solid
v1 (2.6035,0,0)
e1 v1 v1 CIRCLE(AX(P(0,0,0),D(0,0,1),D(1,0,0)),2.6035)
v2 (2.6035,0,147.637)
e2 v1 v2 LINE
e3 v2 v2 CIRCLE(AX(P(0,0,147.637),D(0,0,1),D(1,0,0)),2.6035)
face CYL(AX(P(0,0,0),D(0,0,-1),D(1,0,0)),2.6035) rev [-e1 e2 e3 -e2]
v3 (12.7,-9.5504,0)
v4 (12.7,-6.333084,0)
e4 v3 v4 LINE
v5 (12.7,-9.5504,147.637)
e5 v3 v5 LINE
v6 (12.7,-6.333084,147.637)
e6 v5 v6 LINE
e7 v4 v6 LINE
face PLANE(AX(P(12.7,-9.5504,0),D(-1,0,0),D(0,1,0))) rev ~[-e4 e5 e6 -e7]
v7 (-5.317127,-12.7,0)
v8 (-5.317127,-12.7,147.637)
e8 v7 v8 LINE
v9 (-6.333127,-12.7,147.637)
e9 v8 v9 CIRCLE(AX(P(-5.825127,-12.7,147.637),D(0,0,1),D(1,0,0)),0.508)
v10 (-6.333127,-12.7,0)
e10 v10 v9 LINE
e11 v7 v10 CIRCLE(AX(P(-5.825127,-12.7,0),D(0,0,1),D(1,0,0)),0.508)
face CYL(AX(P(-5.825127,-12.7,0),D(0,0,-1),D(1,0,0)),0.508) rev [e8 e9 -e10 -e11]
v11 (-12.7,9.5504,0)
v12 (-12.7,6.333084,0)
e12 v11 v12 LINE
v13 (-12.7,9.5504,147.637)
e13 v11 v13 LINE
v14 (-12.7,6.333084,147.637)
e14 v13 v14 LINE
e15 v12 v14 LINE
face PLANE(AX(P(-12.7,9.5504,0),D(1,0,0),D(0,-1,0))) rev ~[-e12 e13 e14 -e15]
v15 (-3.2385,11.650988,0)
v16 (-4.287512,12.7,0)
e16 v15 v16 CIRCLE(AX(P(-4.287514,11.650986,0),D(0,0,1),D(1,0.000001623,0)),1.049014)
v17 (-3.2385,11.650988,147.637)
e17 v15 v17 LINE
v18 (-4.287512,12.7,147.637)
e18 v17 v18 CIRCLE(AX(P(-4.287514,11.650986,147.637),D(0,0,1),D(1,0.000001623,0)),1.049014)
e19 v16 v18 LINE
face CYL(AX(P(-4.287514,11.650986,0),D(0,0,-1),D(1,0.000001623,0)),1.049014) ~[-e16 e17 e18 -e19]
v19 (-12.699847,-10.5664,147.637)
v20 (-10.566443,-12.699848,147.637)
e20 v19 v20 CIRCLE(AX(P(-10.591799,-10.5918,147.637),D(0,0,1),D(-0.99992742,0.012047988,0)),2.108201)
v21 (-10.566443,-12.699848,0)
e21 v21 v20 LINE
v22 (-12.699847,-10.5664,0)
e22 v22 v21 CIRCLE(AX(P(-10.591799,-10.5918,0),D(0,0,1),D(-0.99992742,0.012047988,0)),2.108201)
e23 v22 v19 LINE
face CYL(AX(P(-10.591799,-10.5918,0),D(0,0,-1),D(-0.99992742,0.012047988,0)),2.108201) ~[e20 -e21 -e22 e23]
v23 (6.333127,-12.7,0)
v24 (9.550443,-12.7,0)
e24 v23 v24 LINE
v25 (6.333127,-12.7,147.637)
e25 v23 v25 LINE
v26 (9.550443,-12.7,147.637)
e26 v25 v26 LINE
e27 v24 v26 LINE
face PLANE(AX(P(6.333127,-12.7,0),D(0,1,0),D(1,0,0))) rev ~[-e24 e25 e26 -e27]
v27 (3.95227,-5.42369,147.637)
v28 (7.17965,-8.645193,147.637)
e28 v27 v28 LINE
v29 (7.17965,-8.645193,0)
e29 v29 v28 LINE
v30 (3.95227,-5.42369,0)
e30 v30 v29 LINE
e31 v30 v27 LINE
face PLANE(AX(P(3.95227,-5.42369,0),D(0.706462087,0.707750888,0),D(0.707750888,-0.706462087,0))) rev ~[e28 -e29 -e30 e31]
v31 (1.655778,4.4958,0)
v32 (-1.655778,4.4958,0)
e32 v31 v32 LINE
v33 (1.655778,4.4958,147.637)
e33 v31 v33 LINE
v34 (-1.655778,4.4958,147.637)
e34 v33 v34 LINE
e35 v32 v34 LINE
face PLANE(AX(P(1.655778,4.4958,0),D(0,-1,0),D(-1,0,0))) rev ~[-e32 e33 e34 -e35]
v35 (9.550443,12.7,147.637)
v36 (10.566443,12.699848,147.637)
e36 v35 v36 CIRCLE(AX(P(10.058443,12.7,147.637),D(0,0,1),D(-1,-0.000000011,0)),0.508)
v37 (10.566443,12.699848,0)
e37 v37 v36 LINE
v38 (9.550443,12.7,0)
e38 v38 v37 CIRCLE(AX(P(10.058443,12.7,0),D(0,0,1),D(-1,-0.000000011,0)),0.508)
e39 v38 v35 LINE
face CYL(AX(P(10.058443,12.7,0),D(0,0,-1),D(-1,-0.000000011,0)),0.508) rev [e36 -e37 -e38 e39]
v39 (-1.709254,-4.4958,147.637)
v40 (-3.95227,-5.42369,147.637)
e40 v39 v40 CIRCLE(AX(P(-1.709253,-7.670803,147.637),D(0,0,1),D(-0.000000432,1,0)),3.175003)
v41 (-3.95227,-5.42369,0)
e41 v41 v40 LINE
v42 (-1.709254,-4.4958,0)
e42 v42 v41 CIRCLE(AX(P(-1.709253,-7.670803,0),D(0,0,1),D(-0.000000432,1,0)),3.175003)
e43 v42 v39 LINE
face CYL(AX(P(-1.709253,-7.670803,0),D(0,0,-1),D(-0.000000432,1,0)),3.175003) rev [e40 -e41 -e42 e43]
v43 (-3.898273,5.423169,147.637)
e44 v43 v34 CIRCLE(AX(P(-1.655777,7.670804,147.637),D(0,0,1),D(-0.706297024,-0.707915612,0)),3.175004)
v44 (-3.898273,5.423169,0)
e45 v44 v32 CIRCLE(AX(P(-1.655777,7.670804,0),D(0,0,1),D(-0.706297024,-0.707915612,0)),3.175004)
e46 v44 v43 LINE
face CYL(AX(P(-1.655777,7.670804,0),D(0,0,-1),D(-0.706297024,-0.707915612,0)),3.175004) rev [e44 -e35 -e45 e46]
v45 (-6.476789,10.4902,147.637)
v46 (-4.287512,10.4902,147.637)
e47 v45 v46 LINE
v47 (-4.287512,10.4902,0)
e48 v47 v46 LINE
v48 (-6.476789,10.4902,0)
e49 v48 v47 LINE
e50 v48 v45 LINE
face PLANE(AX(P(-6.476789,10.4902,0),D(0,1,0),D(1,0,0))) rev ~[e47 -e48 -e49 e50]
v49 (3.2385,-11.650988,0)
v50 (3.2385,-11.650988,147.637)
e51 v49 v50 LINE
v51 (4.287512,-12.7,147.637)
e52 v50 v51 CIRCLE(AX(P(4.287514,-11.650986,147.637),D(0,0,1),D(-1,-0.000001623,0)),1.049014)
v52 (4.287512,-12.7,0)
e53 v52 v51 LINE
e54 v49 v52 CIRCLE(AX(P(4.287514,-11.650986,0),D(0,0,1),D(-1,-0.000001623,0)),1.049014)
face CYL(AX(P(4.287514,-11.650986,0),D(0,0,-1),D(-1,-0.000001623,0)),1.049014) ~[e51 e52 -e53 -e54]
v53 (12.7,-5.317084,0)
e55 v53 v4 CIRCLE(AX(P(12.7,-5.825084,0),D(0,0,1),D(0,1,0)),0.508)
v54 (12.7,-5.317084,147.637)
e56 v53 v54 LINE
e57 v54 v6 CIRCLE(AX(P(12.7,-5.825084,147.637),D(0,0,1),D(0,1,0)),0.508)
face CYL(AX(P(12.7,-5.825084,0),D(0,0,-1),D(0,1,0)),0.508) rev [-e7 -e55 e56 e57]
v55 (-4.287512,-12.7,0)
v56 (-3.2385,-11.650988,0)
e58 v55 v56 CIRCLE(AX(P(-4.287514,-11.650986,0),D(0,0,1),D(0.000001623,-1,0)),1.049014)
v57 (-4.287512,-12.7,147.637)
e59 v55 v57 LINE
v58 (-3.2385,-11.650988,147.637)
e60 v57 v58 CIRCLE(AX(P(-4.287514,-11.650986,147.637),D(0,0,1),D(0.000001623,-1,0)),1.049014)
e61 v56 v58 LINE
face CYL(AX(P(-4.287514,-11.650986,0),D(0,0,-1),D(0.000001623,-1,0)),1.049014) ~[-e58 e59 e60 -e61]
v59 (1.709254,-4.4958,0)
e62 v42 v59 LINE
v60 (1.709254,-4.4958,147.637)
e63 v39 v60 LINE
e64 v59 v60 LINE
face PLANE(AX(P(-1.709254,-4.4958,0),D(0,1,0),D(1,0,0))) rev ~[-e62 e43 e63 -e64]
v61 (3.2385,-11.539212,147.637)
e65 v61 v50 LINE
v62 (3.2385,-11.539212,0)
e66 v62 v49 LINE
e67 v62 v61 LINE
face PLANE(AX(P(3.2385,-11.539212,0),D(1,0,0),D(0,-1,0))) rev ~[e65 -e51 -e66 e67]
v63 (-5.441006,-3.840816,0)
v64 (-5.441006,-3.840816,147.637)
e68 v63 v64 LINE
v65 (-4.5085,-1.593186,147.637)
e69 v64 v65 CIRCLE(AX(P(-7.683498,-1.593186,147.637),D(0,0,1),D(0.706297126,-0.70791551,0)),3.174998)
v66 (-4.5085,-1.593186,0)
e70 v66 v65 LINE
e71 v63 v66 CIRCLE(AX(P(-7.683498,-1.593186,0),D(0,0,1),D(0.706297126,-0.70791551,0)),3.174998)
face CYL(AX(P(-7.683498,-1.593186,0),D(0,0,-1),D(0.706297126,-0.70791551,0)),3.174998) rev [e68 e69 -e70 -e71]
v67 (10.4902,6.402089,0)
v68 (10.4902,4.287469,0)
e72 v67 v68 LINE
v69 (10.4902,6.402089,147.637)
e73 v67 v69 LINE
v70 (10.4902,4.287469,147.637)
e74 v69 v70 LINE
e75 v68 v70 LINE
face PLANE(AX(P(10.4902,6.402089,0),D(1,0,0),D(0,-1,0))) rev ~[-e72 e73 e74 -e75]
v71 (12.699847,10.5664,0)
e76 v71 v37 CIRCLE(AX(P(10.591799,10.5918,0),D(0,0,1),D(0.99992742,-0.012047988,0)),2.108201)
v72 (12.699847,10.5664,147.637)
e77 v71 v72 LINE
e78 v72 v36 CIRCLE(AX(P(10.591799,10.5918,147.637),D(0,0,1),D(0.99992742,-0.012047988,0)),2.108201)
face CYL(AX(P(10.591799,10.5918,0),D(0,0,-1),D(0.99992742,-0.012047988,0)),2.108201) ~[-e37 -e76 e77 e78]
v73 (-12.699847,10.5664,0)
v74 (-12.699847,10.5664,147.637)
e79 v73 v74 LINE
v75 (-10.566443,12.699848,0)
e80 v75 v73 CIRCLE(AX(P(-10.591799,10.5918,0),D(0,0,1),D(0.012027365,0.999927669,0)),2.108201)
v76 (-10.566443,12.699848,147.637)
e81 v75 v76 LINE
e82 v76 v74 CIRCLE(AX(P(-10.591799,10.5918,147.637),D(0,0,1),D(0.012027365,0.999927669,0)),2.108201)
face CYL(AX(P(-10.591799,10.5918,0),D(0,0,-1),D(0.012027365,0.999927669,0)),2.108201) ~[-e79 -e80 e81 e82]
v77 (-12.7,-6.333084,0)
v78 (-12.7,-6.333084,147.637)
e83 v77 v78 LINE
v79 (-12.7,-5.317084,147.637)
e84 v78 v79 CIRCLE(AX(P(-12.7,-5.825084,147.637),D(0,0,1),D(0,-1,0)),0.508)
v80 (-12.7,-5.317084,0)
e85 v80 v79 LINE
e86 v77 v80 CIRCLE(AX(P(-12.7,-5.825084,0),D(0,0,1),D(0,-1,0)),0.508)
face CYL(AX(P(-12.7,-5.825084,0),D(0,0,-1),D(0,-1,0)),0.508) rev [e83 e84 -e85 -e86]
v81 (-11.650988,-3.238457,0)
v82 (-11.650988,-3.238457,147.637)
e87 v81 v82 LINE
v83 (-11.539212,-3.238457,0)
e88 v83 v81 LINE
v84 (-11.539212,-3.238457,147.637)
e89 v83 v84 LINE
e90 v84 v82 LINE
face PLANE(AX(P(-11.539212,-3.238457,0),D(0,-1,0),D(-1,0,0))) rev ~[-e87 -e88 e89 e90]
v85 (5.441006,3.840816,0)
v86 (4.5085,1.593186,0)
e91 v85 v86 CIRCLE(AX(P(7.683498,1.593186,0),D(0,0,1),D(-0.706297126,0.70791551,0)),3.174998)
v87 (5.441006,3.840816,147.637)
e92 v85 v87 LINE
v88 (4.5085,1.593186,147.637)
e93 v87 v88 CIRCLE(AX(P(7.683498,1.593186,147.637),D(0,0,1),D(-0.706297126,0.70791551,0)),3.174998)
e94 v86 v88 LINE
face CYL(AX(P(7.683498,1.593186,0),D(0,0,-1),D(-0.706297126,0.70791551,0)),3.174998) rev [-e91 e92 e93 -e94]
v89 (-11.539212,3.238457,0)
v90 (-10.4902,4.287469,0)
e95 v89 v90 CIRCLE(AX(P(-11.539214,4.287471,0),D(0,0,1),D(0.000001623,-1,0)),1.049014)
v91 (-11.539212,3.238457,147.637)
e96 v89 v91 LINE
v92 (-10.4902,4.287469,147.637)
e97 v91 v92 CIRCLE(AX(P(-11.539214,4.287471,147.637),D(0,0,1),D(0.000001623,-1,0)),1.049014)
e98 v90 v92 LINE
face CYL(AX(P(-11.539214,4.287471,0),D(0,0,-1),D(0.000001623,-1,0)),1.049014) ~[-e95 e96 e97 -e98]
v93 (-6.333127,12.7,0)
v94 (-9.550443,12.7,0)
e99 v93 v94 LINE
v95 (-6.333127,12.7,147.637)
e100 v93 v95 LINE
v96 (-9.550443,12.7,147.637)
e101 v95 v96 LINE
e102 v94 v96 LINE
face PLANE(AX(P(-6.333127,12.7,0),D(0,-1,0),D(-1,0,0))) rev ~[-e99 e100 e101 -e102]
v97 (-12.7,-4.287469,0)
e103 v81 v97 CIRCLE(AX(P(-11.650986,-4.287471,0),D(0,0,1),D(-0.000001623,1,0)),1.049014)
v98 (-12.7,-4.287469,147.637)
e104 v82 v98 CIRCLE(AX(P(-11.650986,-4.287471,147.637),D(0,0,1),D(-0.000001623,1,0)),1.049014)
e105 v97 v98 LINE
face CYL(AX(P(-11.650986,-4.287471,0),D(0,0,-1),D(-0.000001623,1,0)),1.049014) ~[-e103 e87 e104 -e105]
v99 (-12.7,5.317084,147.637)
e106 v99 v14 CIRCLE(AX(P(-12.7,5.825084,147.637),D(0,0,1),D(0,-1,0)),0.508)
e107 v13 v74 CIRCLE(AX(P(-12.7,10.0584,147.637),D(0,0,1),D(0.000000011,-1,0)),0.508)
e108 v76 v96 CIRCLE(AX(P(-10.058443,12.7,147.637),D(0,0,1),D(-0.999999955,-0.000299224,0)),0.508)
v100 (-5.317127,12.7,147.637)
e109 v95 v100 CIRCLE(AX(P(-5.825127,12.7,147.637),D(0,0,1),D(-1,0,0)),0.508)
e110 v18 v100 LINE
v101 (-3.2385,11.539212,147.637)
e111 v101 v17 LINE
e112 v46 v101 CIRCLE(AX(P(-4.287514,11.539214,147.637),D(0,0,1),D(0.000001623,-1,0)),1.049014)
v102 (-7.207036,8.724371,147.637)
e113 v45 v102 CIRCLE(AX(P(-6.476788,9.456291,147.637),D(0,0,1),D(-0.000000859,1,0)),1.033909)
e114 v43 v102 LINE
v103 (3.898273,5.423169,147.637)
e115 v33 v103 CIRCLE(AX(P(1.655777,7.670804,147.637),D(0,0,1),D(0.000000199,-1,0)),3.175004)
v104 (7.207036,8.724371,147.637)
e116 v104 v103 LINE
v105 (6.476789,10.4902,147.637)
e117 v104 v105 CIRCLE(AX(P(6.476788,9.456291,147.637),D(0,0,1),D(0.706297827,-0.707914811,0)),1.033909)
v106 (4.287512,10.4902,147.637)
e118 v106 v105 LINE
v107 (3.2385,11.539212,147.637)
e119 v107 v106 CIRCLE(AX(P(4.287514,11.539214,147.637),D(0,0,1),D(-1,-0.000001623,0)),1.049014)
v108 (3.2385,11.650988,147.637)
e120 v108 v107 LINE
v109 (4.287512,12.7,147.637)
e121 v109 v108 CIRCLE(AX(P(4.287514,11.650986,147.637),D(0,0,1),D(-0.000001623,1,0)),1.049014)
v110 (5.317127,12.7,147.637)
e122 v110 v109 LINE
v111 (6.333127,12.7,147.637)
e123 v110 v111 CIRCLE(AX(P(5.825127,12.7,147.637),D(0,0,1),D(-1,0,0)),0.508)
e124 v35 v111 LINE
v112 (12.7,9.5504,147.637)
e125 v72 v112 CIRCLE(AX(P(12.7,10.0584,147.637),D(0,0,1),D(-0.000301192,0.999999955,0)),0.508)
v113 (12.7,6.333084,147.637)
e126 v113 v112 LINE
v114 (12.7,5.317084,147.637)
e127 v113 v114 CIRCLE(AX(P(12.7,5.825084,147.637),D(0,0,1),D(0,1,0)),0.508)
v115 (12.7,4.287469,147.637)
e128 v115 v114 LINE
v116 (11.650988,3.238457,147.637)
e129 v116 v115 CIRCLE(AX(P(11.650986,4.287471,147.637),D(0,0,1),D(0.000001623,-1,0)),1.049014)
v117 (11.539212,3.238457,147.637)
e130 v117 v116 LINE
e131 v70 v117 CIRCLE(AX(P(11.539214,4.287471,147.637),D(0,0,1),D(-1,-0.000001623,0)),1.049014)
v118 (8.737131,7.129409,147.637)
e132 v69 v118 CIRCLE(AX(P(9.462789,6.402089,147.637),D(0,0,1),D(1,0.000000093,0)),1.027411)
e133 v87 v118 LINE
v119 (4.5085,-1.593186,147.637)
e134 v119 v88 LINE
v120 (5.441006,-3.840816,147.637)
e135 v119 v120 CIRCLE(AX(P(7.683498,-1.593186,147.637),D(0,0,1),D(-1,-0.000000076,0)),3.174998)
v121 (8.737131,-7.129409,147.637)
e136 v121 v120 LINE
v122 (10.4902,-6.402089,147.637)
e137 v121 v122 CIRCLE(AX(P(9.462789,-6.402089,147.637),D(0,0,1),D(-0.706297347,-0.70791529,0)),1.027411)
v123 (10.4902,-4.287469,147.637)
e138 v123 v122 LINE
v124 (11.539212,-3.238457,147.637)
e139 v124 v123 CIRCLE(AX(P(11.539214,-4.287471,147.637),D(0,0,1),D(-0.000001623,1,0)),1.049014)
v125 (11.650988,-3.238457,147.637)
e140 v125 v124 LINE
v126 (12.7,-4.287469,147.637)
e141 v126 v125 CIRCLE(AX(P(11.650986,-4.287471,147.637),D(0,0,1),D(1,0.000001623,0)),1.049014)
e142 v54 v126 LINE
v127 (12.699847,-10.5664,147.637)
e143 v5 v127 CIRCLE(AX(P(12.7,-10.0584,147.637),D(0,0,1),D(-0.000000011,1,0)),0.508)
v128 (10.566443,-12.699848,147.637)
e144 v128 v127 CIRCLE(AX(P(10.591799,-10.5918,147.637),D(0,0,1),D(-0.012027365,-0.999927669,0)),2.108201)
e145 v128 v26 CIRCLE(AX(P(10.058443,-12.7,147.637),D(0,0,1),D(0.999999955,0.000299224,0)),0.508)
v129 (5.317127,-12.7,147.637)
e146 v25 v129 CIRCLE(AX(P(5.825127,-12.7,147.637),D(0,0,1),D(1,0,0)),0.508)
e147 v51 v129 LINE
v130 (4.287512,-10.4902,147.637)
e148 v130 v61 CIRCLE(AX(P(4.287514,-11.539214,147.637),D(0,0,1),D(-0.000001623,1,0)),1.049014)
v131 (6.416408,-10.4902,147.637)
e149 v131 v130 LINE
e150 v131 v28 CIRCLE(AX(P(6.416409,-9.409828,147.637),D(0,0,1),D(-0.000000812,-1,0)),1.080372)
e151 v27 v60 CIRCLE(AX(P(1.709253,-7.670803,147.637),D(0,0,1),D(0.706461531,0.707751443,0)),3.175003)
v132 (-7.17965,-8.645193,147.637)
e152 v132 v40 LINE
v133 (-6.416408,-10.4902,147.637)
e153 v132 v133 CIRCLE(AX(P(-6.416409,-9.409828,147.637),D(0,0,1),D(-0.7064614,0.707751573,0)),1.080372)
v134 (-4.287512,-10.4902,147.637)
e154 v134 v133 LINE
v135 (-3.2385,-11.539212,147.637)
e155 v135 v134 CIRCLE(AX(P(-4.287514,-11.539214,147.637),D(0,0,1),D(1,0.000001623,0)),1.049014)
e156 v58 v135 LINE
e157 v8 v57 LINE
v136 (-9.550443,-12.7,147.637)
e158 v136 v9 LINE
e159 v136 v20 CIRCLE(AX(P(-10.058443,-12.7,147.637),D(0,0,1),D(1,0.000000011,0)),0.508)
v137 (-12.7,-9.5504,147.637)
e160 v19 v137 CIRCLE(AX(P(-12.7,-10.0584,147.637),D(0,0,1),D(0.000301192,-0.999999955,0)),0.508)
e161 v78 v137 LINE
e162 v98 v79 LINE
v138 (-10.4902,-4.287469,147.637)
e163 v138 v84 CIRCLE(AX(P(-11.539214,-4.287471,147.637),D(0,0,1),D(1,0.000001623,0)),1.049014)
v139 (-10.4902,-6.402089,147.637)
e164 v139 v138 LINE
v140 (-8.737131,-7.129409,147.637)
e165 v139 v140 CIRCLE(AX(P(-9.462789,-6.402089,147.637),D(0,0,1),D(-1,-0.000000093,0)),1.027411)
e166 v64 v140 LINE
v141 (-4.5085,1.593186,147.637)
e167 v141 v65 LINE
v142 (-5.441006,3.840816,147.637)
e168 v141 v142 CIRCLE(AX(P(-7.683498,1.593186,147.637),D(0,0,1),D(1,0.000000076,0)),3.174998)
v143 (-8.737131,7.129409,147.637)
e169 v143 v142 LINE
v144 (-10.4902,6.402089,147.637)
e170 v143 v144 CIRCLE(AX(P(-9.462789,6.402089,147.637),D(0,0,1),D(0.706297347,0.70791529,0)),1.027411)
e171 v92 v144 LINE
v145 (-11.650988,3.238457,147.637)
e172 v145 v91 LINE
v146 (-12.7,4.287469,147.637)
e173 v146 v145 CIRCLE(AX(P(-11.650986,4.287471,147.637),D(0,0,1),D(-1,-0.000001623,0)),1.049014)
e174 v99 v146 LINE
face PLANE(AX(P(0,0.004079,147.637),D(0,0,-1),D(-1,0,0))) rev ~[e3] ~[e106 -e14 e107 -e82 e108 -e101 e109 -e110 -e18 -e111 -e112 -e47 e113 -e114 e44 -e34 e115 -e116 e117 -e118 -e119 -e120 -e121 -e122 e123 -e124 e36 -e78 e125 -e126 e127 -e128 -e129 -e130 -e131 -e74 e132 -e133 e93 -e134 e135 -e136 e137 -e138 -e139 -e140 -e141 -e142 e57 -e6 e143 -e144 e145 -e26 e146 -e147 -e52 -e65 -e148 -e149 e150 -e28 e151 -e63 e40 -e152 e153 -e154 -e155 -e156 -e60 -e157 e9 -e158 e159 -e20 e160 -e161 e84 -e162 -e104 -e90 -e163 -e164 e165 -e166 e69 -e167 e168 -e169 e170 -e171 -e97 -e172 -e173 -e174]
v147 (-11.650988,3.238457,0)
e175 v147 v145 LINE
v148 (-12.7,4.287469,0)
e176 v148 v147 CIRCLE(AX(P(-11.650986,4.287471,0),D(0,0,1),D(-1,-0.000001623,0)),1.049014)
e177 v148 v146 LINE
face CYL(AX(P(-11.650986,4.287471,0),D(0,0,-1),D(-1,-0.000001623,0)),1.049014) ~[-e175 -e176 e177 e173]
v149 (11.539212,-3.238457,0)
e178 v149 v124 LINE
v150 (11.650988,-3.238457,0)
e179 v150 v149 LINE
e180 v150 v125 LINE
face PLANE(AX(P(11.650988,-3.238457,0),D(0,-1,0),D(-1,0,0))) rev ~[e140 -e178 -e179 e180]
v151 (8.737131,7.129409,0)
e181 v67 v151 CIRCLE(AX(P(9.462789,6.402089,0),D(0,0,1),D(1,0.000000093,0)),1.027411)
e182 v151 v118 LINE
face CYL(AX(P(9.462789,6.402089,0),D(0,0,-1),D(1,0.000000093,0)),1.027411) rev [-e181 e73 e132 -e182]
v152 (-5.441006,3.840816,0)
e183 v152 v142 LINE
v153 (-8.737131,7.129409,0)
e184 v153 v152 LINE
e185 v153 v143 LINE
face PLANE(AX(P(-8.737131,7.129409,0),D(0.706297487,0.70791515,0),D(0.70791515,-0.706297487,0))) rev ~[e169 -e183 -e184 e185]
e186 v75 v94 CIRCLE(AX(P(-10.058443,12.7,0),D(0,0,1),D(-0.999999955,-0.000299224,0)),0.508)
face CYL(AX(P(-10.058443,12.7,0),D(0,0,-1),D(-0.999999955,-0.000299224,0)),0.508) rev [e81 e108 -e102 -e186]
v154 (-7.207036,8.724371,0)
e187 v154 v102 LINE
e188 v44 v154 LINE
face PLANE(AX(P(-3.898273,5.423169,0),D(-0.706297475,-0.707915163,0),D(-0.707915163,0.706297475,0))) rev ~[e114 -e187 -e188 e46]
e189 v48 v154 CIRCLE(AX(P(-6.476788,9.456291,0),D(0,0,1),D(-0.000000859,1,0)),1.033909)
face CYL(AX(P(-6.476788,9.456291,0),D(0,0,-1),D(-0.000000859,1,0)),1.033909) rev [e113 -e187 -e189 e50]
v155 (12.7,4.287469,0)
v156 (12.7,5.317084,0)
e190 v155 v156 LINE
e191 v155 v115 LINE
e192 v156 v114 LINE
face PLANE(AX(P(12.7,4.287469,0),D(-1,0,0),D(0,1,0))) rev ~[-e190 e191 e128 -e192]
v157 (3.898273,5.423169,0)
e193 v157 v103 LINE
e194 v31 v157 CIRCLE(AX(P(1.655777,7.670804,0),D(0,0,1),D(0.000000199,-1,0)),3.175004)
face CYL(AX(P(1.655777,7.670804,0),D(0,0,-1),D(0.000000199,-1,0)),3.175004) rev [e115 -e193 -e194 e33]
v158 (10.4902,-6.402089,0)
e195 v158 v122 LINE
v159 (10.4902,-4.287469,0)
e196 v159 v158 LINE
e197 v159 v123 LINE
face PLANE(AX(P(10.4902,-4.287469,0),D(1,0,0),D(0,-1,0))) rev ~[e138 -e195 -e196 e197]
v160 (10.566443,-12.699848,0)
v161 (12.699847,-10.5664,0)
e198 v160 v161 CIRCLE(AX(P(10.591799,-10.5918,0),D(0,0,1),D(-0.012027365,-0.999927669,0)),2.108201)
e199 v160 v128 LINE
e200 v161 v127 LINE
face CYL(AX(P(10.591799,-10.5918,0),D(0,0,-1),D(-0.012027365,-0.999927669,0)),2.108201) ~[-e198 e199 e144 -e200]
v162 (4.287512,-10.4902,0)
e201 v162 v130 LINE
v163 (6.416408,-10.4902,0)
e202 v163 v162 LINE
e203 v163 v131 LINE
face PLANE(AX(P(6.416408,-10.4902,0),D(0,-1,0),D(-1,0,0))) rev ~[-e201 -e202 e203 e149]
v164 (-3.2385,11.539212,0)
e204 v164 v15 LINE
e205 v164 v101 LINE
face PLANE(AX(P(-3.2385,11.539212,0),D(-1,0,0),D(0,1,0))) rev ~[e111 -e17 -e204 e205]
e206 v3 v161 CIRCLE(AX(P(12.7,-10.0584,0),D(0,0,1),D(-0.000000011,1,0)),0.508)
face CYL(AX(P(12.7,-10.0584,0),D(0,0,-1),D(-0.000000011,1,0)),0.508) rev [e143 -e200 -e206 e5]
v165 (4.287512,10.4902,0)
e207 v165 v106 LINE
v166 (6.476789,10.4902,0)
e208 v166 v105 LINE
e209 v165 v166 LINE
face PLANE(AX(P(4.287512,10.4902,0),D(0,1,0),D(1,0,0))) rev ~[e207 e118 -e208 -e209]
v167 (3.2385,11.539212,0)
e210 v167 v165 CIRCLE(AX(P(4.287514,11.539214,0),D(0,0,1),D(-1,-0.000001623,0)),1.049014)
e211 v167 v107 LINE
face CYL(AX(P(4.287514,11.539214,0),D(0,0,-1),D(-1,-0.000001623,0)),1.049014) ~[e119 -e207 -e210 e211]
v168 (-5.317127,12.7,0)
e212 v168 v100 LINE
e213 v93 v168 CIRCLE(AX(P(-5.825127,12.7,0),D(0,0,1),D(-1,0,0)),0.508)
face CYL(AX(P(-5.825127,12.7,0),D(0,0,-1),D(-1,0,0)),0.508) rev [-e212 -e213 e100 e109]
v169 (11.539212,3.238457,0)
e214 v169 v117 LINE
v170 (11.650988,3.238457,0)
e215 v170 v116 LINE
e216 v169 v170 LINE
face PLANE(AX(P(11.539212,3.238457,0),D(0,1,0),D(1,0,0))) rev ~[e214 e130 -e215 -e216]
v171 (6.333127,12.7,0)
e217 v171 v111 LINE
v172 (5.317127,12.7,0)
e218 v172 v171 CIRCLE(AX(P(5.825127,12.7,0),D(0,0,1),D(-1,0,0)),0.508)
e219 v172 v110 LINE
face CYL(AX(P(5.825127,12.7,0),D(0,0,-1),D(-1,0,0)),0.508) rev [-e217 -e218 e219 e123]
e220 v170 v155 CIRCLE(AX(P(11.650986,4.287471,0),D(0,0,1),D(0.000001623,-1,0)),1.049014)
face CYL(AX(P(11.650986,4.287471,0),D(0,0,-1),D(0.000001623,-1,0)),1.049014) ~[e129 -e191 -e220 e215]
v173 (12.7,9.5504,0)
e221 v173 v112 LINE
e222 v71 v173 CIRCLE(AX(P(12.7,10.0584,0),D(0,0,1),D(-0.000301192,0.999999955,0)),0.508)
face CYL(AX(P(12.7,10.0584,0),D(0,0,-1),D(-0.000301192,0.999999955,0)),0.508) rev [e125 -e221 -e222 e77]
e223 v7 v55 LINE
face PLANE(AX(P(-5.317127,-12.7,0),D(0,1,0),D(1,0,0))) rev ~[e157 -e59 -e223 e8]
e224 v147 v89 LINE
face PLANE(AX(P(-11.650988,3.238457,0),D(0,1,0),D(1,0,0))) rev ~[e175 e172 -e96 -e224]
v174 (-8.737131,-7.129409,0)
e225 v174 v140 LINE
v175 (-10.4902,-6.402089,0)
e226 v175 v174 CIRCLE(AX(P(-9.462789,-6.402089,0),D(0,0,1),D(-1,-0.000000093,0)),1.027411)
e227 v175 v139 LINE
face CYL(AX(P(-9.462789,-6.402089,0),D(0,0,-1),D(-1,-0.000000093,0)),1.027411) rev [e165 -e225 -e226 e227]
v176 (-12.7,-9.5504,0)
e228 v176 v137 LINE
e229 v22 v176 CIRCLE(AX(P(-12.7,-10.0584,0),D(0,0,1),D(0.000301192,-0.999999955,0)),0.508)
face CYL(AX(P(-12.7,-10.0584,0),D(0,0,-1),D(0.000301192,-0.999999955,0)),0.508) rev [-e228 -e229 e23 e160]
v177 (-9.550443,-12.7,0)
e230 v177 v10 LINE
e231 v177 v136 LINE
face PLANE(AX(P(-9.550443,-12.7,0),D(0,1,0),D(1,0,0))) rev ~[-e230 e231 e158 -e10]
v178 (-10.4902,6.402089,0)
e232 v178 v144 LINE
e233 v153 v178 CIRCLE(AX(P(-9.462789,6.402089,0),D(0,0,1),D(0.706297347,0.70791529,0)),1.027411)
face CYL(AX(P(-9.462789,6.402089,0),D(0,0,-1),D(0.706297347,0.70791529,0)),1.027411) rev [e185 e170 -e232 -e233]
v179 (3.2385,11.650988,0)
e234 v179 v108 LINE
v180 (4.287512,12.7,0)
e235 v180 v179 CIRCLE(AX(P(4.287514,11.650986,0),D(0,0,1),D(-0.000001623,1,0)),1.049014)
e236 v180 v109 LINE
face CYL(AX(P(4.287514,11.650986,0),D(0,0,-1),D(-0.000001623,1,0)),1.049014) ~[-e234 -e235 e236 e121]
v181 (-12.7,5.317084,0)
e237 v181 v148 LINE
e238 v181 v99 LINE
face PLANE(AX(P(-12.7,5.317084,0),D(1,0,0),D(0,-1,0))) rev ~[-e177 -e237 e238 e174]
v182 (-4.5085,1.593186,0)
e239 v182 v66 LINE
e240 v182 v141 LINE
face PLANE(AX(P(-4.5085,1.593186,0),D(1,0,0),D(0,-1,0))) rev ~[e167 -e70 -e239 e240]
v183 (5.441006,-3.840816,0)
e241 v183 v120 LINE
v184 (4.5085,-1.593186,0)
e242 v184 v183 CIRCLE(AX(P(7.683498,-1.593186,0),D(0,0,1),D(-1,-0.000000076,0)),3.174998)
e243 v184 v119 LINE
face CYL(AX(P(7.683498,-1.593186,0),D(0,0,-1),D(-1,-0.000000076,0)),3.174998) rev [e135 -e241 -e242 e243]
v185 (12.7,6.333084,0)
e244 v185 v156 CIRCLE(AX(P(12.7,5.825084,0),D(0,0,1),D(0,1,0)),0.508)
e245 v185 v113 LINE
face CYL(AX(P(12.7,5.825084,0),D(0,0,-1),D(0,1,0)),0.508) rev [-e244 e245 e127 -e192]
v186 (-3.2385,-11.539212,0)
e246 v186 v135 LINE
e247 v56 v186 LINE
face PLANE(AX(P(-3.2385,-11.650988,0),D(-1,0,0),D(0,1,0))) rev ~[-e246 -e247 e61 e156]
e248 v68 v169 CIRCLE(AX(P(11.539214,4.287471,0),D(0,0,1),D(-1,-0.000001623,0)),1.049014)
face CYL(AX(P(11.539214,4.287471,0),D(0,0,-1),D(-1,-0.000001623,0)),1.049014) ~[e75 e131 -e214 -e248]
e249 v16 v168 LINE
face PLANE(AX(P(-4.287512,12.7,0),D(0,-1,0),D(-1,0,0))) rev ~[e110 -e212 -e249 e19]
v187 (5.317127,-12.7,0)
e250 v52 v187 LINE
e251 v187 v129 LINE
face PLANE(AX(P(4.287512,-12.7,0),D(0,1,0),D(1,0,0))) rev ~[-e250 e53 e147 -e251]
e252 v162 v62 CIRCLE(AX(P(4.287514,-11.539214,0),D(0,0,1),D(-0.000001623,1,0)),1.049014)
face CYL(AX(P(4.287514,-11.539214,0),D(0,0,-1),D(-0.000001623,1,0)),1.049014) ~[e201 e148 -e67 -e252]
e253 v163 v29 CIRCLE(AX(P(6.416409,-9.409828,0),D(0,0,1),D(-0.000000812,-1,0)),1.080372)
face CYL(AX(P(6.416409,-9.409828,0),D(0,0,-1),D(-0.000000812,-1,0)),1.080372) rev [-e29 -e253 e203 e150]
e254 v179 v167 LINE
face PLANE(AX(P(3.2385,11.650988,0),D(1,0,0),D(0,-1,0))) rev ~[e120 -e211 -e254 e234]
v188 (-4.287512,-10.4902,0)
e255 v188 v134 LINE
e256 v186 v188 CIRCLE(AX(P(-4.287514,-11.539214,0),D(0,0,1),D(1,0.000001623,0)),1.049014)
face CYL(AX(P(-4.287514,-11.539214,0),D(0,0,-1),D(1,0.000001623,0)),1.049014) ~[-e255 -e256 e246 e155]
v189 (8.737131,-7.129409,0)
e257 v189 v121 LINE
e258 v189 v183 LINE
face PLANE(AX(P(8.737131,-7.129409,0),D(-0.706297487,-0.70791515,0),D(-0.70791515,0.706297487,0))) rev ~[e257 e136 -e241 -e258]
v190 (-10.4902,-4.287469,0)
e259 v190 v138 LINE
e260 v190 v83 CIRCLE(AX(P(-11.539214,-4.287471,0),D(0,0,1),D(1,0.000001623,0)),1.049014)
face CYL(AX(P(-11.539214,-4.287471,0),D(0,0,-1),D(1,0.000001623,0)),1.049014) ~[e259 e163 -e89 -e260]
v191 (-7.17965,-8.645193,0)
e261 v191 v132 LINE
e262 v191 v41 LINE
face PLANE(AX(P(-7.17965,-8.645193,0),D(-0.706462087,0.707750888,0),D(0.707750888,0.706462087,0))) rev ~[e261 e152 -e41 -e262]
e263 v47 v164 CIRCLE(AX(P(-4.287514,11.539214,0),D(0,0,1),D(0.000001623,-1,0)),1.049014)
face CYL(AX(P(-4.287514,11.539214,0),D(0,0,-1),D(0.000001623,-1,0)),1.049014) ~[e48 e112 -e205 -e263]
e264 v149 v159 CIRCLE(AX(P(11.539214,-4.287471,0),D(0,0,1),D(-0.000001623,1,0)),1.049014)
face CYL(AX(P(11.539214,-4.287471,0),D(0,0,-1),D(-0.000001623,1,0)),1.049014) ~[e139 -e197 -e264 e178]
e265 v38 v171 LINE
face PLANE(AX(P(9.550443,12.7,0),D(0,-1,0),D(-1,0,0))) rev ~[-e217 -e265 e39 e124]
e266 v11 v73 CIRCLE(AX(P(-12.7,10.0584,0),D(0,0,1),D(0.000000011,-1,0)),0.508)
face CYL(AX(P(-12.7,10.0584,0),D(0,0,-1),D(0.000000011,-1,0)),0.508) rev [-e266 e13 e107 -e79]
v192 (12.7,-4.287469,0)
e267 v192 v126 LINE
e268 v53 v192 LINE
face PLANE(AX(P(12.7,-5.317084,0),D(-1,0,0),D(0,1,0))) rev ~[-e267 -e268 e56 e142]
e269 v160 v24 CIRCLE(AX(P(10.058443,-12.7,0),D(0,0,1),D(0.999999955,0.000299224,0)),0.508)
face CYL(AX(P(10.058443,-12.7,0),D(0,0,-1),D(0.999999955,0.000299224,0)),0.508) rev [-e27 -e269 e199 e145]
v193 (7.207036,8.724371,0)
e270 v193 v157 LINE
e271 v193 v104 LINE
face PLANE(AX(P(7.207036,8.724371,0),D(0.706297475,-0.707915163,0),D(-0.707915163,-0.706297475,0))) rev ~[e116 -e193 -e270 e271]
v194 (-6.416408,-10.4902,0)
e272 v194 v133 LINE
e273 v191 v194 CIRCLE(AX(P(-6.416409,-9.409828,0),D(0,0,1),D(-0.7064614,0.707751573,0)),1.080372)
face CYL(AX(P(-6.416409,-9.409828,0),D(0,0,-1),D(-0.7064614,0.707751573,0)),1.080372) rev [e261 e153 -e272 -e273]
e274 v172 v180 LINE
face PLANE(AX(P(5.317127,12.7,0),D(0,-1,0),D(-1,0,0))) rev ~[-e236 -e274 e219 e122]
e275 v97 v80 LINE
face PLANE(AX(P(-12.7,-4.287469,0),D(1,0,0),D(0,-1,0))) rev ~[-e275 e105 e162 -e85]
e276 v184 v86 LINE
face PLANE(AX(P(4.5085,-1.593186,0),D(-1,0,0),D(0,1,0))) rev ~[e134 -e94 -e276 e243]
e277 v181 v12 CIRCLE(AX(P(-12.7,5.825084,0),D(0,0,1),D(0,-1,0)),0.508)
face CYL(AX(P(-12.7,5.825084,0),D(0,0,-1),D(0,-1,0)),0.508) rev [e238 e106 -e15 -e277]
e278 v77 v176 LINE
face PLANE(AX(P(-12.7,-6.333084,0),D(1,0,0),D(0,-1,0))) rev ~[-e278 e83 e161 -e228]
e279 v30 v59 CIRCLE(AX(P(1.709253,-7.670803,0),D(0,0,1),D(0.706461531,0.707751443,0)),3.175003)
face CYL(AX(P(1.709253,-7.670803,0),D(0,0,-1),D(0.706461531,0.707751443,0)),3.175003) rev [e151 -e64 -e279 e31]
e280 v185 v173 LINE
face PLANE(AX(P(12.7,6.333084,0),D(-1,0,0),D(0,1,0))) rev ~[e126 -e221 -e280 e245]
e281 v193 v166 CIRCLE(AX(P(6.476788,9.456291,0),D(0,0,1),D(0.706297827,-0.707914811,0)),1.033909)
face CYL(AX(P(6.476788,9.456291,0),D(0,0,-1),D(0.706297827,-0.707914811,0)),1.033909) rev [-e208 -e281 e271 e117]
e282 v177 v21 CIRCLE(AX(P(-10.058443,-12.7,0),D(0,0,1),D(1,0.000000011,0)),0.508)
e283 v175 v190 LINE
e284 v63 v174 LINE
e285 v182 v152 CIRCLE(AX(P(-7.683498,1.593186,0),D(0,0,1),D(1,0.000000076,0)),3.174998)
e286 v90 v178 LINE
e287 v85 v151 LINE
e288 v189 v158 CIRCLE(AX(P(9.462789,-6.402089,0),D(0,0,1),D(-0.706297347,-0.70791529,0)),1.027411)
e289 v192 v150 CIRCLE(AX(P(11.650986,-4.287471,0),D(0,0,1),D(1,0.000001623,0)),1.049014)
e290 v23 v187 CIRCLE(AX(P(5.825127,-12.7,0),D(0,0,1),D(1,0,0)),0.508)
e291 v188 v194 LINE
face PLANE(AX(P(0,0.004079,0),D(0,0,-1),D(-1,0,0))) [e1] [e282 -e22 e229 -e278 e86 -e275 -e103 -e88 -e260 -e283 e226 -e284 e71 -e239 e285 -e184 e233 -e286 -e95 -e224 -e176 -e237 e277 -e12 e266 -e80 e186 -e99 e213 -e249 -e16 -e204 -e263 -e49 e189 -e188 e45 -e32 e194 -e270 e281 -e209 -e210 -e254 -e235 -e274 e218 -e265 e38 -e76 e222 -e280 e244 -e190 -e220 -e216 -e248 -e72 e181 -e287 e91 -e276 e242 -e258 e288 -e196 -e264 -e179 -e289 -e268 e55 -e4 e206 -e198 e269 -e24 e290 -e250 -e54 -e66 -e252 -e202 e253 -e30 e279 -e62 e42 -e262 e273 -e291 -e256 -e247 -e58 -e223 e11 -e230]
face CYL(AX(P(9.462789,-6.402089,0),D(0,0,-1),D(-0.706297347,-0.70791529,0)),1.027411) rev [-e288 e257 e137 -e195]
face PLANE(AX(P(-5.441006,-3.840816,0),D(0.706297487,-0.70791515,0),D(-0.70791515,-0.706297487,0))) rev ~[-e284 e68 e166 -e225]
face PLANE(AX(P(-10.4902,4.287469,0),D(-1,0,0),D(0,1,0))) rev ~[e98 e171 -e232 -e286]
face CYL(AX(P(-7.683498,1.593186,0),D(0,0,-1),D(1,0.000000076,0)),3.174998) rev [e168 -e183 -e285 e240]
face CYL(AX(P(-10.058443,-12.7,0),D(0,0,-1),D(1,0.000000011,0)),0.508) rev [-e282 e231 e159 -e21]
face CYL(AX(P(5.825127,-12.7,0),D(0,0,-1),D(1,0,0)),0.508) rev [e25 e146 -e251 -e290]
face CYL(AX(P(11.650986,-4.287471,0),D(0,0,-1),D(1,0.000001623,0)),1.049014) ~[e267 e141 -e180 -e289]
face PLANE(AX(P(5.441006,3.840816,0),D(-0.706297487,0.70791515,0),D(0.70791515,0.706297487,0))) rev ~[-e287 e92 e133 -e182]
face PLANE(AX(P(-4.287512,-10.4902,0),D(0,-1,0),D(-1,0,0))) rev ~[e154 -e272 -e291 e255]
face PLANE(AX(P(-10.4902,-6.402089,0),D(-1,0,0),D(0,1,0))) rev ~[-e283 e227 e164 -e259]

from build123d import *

# Parameters (mm, degrees)
SKETCH097_R   = 2.6035
EXTRUDE_DEPTH = 147.637


with BuildPart() as part:
    # Sketch097 → Extrude (new body)
    with BuildSketch(Plane.XY):
        with BuildLine():
            ThreePointArc((12.7, 6.333084), (12.192, 5.825084), (12.7, 5.317084))
            Line((12.7, 4.287469), (12.7, 5.317084))
            ThreePointArc((11.650988, 3.238457), (12.392751, 3.545706), (12.7, 4.287469))
            Line((11.539212, 3.238457), (11.650988, 3.238457))
            ThreePointArc((10.4902, 4.287469), (10.797449, 3.545706), (11.539212, 3.238457))
            Line((10.4902, 6.402089), (10.4902, 4.287469))
            ThreePointArc((10.4902, 6.402089), (9.856505, 7.351068), (8.737131, 7.129409))
            Line((5.441006, 3.840816), (8.737131, 7.129409))
            ThreePointArc((5.441006, 3.840816), (4.750878, 2.809883), (4.5085, 1.593186))
            Line((4.5085, -1.593186), (4.5085, 1.593186))
            ThreePointArc((4.5085, -1.593186), (4.750878, -2.809883), (5.441006, -3.840816))
            Line((8.737131, -7.129409), (5.441006, -3.840816))
            ThreePointArc((8.737131, -7.129409), (9.856505, -7.351068), (10.4902, -6.402089))
            Line((10.4902, -4.287469), (10.4902, -6.402089))
            ThreePointArc((11.539212, -3.238457), (10.797449, -3.545706), (10.4902, -4.287469))
            Line((11.650988, -3.238457), (11.539212, -3.238457))
            ThreePointArc((12.7, -4.287469), (12.392751, -3.545706), (11.650988, -3.238457))
            Line((12.7, -5.317084), (12.7, -4.287469))
            ThreePointArc((12.7, -5.317084), (12.192, -5.825084), (12.7, -6.333084))
            Line((12.7, -9.5504), (12.7, -6.333084))
            ThreePointArc((12.7, -9.5504), (12.192, -10.058323), (12.699847, -10.5664))
            ThreePointArc((10.566443, -12.699848), (12.082538, -12.082507), (12.699847, -10.5664))
            ThreePointArc((10.566443, -12.699848), (10.058367, -12.192), (9.550443, -12.7))
            Line((6.333127, -12.7), (9.550443, -12.7))
            ThreePointArc((6.333127, -12.7), (5.825127, -12.192), (5.317127, -12.7))
            Line((4.287512, -12.7), (5.317127, -12.7))
            ThreePointArc((3.2385, -11.650988), (3.545749, -12.392751), (4.287512, -12.7))
            Line((3.2385, -11.539212), (3.2385, -11.650988))
            ThreePointArc((4.287512, -10.4902), (3.545749, -10.797449), (3.2385, -11.539212))
            Line((6.416408, -10.4902), (4.287512, -10.4902))
            ThreePointArc((6.416408, -10.4902), (7.414731, -9.822813), (7.17965, -8.645193))
            Line((3.95227, -5.42369), (7.17965, -8.645193))
            ThreePointArc((3.95227, -5.42369), (2.922936, -4.736929), (1.709254, -4.4958))
            Line((-1.709254, -4.4958), (1.709254, -4.4958))
            ThreePointArc((-1.709254, -4.4958), (-2.922936, -4.736929), (-3.95227, -5.42369))
            Line((-7.17965, -8.645193), (-3.95227, -5.42369))
            ThreePointArc((-7.17965, -8.645193), (-7.414731, -9.822813), (-6.416408, -10.4902))
            Line((-4.287512, -10.4902), (-6.416408, -10.4902))
            ThreePointArc((-3.2385, -11.539212), (-3.545749, -10.797449), (-4.287512, -10.4902))
            Line((-3.2385, -11.650988), (-3.2385, -11.539212))
            ThreePointArc((-4.287512, -12.7), (-3.545749, -12.392751), (-3.2385, -11.650988))
            Line((-5.317127, -12.7), (-4.287512, -12.7))
            ThreePointArc((-5.317127, -12.7), (-5.825127, -12.192), (-6.333127, -12.7))
            Line((-9.550443, -12.7), (-6.333127, -12.7))
            ThreePointArc((-9.550443, -12.7), (-10.058367, -12.192), (-10.566443, -12.699848))
            ThreePointArc((-12.699847, -10.5664), (-12.082538, -12.082507), (-10.566443, -12.699848))
            ThreePointArc((-12.699847, -10.5664), (-12.192, -10.058323), (-12.7, -9.5504))
            Line((-12.7, -6.333084), (-12.7, -9.5504))
            ThreePointArc((-12.7, -6.333084), (-12.192, -5.825084), (-12.7, -5.317084))
            Line((-12.7, -4.287469), (-12.7, -5.317084))
            ThreePointArc((-11.650988, -3.238457), (-12.392751, -3.545706), (-12.7, -4.287469))
            Line((-11.539212, -3.238457), (-11.650988, -3.238457))
            ThreePointArc((-10.4902, -4.287469), (-10.797449, -3.545706), (-11.539212, -3.238457))
            Line((-10.4902, -6.402089), (-10.4902, -4.287469))
            ThreePointArc((-10.4902, -6.402089), (-9.856505, -7.351068), (-8.737131, -7.129409))
            Line((-5.441006, -3.840816), (-8.737131, -7.129409))
            ThreePointArc((-5.441006, -3.840816), (-4.750878, -2.809883), (-4.5085, -1.593186))
            Line((-4.5085, 1.593186), (-4.5085, -1.593186))
            ThreePointArc((-4.5085, 1.593186), (-4.750878, 2.809883), (-5.441006, 3.840816))
            Line((-8.737131, 7.129409), (-5.441006, 3.840816))
            ThreePointArc((-8.737131, 7.129409), (-9.856505, 7.351068), (-10.4902, 6.402089))
            Line((-10.4902, 4.287469), (-10.4902, 6.402089))
            ThreePointArc((-11.539212, 3.238457), (-10.797449, 3.545706), (-10.4902, 4.287469))
            Line((-11.650988, 3.238457), (-11.539212, 3.238457))
            ThreePointArc((-12.7, 4.287469), (-12.392751, 3.545706), (-11.650988, 3.238457))
            Line((-12.7, 5.317084), (-12.7, 4.287469))
            ThreePointArc((-12.7, 5.317084), (-12.192, 5.825084), (-12.7, 6.333084))
            Line((-12.7, 9.5504), (-12.7, 6.333084))
            ThreePointArc((-12.7, 9.5504), (-12.192, 10.058323), (-12.699847, 10.5664))
            ThreePointArc((-10.566443, 12.699848), (-12.082538, 12.082507), (-12.699847, 10.5664))
            ThreePointArc((-10.566443, 12.699848), (-10.058367, 12.192), (-9.550443, 12.7))
            Line((-6.333127, 12.7), (-9.550443, 12.7))
            ThreePointArc((-6.333127, 12.7), (-5.825127, 12.192), (-5.317127, 12.7))
            Line((-4.287512, 12.7), (-5.317127, 12.7))
            ThreePointArc((-3.2385, 11.650988), (-3.545749, 12.392751), (-4.287512, 12.7))
            Line((-3.2385, 11.539212), (-3.2385, 11.650988))
            ThreePointArc((-4.287512, 10.4902), (-3.545749, 10.797449), (-3.2385, 11.539212))
            Line((-6.476789, 10.4902), (-4.287512, 10.4902))
            ThreePointArc((-6.476789, 10.4902), (-7.432222, 9.851404), (-7.207036, 8.724371))
            Line((-3.898273, 5.423169), (-7.207036, 8.724371))
            ThreePointArc((-3.898273, 5.423169), (-2.86912, 4.736788), (-1.655778, 4.4958))
            Line((1.655778, 4.4958), (-1.655778, 4.4958))
            ThreePointArc((1.655778, 4.4958), (2.86912, 4.736788), (3.898273, 5.423169))
            Line((7.207036, 8.724371), (3.898273, 5.423169))
            ThreePointArc((7.207036, 8.724371), (7.432222, 9.851404), (6.476789, 10.4902))
            Line((4.287512, 10.4902), (6.476789, 10.4902))
            ThreePointArc((3.2385, 11.539212), (3.545749, 10.797449), (4.287512, 10.4902))
            Line((3.2385, 11.650988), (3.2385, 11.539212))
            ThreePointArc((4.287512, 12.7), (3.545749, 12.392751), (3.2385, 11.650988))
            Line((5.317127, 12.7), (4.287512, 12.7))
            ThreePointArc((5.317127, 12.7), (5.825127, 12.192), (6.333127, 12.7))
            Line((9.550443, 12.7), (6.333127, 12.7))
            ThreePointArc((9.550443, 12.7), (10.058367, 12.192), (10.566443, 12.699848))
            ThreePointArc((12.699847, 10.5664), (12.082538, 12.082507), (10.566443, 12.699848))
            ThreePointArc((12.699847, 10.5664), (12.192, 10.058323), (12.7, 9.5504))
            Line((12.7, 6.333084), (12.7, 9.5504))
        make_face()
        Circle(SKETCH097_R, mode=Mode.SUBTRACT)
    extrude(amount=EXTRUDE_DEPTH)


solid = part.part
